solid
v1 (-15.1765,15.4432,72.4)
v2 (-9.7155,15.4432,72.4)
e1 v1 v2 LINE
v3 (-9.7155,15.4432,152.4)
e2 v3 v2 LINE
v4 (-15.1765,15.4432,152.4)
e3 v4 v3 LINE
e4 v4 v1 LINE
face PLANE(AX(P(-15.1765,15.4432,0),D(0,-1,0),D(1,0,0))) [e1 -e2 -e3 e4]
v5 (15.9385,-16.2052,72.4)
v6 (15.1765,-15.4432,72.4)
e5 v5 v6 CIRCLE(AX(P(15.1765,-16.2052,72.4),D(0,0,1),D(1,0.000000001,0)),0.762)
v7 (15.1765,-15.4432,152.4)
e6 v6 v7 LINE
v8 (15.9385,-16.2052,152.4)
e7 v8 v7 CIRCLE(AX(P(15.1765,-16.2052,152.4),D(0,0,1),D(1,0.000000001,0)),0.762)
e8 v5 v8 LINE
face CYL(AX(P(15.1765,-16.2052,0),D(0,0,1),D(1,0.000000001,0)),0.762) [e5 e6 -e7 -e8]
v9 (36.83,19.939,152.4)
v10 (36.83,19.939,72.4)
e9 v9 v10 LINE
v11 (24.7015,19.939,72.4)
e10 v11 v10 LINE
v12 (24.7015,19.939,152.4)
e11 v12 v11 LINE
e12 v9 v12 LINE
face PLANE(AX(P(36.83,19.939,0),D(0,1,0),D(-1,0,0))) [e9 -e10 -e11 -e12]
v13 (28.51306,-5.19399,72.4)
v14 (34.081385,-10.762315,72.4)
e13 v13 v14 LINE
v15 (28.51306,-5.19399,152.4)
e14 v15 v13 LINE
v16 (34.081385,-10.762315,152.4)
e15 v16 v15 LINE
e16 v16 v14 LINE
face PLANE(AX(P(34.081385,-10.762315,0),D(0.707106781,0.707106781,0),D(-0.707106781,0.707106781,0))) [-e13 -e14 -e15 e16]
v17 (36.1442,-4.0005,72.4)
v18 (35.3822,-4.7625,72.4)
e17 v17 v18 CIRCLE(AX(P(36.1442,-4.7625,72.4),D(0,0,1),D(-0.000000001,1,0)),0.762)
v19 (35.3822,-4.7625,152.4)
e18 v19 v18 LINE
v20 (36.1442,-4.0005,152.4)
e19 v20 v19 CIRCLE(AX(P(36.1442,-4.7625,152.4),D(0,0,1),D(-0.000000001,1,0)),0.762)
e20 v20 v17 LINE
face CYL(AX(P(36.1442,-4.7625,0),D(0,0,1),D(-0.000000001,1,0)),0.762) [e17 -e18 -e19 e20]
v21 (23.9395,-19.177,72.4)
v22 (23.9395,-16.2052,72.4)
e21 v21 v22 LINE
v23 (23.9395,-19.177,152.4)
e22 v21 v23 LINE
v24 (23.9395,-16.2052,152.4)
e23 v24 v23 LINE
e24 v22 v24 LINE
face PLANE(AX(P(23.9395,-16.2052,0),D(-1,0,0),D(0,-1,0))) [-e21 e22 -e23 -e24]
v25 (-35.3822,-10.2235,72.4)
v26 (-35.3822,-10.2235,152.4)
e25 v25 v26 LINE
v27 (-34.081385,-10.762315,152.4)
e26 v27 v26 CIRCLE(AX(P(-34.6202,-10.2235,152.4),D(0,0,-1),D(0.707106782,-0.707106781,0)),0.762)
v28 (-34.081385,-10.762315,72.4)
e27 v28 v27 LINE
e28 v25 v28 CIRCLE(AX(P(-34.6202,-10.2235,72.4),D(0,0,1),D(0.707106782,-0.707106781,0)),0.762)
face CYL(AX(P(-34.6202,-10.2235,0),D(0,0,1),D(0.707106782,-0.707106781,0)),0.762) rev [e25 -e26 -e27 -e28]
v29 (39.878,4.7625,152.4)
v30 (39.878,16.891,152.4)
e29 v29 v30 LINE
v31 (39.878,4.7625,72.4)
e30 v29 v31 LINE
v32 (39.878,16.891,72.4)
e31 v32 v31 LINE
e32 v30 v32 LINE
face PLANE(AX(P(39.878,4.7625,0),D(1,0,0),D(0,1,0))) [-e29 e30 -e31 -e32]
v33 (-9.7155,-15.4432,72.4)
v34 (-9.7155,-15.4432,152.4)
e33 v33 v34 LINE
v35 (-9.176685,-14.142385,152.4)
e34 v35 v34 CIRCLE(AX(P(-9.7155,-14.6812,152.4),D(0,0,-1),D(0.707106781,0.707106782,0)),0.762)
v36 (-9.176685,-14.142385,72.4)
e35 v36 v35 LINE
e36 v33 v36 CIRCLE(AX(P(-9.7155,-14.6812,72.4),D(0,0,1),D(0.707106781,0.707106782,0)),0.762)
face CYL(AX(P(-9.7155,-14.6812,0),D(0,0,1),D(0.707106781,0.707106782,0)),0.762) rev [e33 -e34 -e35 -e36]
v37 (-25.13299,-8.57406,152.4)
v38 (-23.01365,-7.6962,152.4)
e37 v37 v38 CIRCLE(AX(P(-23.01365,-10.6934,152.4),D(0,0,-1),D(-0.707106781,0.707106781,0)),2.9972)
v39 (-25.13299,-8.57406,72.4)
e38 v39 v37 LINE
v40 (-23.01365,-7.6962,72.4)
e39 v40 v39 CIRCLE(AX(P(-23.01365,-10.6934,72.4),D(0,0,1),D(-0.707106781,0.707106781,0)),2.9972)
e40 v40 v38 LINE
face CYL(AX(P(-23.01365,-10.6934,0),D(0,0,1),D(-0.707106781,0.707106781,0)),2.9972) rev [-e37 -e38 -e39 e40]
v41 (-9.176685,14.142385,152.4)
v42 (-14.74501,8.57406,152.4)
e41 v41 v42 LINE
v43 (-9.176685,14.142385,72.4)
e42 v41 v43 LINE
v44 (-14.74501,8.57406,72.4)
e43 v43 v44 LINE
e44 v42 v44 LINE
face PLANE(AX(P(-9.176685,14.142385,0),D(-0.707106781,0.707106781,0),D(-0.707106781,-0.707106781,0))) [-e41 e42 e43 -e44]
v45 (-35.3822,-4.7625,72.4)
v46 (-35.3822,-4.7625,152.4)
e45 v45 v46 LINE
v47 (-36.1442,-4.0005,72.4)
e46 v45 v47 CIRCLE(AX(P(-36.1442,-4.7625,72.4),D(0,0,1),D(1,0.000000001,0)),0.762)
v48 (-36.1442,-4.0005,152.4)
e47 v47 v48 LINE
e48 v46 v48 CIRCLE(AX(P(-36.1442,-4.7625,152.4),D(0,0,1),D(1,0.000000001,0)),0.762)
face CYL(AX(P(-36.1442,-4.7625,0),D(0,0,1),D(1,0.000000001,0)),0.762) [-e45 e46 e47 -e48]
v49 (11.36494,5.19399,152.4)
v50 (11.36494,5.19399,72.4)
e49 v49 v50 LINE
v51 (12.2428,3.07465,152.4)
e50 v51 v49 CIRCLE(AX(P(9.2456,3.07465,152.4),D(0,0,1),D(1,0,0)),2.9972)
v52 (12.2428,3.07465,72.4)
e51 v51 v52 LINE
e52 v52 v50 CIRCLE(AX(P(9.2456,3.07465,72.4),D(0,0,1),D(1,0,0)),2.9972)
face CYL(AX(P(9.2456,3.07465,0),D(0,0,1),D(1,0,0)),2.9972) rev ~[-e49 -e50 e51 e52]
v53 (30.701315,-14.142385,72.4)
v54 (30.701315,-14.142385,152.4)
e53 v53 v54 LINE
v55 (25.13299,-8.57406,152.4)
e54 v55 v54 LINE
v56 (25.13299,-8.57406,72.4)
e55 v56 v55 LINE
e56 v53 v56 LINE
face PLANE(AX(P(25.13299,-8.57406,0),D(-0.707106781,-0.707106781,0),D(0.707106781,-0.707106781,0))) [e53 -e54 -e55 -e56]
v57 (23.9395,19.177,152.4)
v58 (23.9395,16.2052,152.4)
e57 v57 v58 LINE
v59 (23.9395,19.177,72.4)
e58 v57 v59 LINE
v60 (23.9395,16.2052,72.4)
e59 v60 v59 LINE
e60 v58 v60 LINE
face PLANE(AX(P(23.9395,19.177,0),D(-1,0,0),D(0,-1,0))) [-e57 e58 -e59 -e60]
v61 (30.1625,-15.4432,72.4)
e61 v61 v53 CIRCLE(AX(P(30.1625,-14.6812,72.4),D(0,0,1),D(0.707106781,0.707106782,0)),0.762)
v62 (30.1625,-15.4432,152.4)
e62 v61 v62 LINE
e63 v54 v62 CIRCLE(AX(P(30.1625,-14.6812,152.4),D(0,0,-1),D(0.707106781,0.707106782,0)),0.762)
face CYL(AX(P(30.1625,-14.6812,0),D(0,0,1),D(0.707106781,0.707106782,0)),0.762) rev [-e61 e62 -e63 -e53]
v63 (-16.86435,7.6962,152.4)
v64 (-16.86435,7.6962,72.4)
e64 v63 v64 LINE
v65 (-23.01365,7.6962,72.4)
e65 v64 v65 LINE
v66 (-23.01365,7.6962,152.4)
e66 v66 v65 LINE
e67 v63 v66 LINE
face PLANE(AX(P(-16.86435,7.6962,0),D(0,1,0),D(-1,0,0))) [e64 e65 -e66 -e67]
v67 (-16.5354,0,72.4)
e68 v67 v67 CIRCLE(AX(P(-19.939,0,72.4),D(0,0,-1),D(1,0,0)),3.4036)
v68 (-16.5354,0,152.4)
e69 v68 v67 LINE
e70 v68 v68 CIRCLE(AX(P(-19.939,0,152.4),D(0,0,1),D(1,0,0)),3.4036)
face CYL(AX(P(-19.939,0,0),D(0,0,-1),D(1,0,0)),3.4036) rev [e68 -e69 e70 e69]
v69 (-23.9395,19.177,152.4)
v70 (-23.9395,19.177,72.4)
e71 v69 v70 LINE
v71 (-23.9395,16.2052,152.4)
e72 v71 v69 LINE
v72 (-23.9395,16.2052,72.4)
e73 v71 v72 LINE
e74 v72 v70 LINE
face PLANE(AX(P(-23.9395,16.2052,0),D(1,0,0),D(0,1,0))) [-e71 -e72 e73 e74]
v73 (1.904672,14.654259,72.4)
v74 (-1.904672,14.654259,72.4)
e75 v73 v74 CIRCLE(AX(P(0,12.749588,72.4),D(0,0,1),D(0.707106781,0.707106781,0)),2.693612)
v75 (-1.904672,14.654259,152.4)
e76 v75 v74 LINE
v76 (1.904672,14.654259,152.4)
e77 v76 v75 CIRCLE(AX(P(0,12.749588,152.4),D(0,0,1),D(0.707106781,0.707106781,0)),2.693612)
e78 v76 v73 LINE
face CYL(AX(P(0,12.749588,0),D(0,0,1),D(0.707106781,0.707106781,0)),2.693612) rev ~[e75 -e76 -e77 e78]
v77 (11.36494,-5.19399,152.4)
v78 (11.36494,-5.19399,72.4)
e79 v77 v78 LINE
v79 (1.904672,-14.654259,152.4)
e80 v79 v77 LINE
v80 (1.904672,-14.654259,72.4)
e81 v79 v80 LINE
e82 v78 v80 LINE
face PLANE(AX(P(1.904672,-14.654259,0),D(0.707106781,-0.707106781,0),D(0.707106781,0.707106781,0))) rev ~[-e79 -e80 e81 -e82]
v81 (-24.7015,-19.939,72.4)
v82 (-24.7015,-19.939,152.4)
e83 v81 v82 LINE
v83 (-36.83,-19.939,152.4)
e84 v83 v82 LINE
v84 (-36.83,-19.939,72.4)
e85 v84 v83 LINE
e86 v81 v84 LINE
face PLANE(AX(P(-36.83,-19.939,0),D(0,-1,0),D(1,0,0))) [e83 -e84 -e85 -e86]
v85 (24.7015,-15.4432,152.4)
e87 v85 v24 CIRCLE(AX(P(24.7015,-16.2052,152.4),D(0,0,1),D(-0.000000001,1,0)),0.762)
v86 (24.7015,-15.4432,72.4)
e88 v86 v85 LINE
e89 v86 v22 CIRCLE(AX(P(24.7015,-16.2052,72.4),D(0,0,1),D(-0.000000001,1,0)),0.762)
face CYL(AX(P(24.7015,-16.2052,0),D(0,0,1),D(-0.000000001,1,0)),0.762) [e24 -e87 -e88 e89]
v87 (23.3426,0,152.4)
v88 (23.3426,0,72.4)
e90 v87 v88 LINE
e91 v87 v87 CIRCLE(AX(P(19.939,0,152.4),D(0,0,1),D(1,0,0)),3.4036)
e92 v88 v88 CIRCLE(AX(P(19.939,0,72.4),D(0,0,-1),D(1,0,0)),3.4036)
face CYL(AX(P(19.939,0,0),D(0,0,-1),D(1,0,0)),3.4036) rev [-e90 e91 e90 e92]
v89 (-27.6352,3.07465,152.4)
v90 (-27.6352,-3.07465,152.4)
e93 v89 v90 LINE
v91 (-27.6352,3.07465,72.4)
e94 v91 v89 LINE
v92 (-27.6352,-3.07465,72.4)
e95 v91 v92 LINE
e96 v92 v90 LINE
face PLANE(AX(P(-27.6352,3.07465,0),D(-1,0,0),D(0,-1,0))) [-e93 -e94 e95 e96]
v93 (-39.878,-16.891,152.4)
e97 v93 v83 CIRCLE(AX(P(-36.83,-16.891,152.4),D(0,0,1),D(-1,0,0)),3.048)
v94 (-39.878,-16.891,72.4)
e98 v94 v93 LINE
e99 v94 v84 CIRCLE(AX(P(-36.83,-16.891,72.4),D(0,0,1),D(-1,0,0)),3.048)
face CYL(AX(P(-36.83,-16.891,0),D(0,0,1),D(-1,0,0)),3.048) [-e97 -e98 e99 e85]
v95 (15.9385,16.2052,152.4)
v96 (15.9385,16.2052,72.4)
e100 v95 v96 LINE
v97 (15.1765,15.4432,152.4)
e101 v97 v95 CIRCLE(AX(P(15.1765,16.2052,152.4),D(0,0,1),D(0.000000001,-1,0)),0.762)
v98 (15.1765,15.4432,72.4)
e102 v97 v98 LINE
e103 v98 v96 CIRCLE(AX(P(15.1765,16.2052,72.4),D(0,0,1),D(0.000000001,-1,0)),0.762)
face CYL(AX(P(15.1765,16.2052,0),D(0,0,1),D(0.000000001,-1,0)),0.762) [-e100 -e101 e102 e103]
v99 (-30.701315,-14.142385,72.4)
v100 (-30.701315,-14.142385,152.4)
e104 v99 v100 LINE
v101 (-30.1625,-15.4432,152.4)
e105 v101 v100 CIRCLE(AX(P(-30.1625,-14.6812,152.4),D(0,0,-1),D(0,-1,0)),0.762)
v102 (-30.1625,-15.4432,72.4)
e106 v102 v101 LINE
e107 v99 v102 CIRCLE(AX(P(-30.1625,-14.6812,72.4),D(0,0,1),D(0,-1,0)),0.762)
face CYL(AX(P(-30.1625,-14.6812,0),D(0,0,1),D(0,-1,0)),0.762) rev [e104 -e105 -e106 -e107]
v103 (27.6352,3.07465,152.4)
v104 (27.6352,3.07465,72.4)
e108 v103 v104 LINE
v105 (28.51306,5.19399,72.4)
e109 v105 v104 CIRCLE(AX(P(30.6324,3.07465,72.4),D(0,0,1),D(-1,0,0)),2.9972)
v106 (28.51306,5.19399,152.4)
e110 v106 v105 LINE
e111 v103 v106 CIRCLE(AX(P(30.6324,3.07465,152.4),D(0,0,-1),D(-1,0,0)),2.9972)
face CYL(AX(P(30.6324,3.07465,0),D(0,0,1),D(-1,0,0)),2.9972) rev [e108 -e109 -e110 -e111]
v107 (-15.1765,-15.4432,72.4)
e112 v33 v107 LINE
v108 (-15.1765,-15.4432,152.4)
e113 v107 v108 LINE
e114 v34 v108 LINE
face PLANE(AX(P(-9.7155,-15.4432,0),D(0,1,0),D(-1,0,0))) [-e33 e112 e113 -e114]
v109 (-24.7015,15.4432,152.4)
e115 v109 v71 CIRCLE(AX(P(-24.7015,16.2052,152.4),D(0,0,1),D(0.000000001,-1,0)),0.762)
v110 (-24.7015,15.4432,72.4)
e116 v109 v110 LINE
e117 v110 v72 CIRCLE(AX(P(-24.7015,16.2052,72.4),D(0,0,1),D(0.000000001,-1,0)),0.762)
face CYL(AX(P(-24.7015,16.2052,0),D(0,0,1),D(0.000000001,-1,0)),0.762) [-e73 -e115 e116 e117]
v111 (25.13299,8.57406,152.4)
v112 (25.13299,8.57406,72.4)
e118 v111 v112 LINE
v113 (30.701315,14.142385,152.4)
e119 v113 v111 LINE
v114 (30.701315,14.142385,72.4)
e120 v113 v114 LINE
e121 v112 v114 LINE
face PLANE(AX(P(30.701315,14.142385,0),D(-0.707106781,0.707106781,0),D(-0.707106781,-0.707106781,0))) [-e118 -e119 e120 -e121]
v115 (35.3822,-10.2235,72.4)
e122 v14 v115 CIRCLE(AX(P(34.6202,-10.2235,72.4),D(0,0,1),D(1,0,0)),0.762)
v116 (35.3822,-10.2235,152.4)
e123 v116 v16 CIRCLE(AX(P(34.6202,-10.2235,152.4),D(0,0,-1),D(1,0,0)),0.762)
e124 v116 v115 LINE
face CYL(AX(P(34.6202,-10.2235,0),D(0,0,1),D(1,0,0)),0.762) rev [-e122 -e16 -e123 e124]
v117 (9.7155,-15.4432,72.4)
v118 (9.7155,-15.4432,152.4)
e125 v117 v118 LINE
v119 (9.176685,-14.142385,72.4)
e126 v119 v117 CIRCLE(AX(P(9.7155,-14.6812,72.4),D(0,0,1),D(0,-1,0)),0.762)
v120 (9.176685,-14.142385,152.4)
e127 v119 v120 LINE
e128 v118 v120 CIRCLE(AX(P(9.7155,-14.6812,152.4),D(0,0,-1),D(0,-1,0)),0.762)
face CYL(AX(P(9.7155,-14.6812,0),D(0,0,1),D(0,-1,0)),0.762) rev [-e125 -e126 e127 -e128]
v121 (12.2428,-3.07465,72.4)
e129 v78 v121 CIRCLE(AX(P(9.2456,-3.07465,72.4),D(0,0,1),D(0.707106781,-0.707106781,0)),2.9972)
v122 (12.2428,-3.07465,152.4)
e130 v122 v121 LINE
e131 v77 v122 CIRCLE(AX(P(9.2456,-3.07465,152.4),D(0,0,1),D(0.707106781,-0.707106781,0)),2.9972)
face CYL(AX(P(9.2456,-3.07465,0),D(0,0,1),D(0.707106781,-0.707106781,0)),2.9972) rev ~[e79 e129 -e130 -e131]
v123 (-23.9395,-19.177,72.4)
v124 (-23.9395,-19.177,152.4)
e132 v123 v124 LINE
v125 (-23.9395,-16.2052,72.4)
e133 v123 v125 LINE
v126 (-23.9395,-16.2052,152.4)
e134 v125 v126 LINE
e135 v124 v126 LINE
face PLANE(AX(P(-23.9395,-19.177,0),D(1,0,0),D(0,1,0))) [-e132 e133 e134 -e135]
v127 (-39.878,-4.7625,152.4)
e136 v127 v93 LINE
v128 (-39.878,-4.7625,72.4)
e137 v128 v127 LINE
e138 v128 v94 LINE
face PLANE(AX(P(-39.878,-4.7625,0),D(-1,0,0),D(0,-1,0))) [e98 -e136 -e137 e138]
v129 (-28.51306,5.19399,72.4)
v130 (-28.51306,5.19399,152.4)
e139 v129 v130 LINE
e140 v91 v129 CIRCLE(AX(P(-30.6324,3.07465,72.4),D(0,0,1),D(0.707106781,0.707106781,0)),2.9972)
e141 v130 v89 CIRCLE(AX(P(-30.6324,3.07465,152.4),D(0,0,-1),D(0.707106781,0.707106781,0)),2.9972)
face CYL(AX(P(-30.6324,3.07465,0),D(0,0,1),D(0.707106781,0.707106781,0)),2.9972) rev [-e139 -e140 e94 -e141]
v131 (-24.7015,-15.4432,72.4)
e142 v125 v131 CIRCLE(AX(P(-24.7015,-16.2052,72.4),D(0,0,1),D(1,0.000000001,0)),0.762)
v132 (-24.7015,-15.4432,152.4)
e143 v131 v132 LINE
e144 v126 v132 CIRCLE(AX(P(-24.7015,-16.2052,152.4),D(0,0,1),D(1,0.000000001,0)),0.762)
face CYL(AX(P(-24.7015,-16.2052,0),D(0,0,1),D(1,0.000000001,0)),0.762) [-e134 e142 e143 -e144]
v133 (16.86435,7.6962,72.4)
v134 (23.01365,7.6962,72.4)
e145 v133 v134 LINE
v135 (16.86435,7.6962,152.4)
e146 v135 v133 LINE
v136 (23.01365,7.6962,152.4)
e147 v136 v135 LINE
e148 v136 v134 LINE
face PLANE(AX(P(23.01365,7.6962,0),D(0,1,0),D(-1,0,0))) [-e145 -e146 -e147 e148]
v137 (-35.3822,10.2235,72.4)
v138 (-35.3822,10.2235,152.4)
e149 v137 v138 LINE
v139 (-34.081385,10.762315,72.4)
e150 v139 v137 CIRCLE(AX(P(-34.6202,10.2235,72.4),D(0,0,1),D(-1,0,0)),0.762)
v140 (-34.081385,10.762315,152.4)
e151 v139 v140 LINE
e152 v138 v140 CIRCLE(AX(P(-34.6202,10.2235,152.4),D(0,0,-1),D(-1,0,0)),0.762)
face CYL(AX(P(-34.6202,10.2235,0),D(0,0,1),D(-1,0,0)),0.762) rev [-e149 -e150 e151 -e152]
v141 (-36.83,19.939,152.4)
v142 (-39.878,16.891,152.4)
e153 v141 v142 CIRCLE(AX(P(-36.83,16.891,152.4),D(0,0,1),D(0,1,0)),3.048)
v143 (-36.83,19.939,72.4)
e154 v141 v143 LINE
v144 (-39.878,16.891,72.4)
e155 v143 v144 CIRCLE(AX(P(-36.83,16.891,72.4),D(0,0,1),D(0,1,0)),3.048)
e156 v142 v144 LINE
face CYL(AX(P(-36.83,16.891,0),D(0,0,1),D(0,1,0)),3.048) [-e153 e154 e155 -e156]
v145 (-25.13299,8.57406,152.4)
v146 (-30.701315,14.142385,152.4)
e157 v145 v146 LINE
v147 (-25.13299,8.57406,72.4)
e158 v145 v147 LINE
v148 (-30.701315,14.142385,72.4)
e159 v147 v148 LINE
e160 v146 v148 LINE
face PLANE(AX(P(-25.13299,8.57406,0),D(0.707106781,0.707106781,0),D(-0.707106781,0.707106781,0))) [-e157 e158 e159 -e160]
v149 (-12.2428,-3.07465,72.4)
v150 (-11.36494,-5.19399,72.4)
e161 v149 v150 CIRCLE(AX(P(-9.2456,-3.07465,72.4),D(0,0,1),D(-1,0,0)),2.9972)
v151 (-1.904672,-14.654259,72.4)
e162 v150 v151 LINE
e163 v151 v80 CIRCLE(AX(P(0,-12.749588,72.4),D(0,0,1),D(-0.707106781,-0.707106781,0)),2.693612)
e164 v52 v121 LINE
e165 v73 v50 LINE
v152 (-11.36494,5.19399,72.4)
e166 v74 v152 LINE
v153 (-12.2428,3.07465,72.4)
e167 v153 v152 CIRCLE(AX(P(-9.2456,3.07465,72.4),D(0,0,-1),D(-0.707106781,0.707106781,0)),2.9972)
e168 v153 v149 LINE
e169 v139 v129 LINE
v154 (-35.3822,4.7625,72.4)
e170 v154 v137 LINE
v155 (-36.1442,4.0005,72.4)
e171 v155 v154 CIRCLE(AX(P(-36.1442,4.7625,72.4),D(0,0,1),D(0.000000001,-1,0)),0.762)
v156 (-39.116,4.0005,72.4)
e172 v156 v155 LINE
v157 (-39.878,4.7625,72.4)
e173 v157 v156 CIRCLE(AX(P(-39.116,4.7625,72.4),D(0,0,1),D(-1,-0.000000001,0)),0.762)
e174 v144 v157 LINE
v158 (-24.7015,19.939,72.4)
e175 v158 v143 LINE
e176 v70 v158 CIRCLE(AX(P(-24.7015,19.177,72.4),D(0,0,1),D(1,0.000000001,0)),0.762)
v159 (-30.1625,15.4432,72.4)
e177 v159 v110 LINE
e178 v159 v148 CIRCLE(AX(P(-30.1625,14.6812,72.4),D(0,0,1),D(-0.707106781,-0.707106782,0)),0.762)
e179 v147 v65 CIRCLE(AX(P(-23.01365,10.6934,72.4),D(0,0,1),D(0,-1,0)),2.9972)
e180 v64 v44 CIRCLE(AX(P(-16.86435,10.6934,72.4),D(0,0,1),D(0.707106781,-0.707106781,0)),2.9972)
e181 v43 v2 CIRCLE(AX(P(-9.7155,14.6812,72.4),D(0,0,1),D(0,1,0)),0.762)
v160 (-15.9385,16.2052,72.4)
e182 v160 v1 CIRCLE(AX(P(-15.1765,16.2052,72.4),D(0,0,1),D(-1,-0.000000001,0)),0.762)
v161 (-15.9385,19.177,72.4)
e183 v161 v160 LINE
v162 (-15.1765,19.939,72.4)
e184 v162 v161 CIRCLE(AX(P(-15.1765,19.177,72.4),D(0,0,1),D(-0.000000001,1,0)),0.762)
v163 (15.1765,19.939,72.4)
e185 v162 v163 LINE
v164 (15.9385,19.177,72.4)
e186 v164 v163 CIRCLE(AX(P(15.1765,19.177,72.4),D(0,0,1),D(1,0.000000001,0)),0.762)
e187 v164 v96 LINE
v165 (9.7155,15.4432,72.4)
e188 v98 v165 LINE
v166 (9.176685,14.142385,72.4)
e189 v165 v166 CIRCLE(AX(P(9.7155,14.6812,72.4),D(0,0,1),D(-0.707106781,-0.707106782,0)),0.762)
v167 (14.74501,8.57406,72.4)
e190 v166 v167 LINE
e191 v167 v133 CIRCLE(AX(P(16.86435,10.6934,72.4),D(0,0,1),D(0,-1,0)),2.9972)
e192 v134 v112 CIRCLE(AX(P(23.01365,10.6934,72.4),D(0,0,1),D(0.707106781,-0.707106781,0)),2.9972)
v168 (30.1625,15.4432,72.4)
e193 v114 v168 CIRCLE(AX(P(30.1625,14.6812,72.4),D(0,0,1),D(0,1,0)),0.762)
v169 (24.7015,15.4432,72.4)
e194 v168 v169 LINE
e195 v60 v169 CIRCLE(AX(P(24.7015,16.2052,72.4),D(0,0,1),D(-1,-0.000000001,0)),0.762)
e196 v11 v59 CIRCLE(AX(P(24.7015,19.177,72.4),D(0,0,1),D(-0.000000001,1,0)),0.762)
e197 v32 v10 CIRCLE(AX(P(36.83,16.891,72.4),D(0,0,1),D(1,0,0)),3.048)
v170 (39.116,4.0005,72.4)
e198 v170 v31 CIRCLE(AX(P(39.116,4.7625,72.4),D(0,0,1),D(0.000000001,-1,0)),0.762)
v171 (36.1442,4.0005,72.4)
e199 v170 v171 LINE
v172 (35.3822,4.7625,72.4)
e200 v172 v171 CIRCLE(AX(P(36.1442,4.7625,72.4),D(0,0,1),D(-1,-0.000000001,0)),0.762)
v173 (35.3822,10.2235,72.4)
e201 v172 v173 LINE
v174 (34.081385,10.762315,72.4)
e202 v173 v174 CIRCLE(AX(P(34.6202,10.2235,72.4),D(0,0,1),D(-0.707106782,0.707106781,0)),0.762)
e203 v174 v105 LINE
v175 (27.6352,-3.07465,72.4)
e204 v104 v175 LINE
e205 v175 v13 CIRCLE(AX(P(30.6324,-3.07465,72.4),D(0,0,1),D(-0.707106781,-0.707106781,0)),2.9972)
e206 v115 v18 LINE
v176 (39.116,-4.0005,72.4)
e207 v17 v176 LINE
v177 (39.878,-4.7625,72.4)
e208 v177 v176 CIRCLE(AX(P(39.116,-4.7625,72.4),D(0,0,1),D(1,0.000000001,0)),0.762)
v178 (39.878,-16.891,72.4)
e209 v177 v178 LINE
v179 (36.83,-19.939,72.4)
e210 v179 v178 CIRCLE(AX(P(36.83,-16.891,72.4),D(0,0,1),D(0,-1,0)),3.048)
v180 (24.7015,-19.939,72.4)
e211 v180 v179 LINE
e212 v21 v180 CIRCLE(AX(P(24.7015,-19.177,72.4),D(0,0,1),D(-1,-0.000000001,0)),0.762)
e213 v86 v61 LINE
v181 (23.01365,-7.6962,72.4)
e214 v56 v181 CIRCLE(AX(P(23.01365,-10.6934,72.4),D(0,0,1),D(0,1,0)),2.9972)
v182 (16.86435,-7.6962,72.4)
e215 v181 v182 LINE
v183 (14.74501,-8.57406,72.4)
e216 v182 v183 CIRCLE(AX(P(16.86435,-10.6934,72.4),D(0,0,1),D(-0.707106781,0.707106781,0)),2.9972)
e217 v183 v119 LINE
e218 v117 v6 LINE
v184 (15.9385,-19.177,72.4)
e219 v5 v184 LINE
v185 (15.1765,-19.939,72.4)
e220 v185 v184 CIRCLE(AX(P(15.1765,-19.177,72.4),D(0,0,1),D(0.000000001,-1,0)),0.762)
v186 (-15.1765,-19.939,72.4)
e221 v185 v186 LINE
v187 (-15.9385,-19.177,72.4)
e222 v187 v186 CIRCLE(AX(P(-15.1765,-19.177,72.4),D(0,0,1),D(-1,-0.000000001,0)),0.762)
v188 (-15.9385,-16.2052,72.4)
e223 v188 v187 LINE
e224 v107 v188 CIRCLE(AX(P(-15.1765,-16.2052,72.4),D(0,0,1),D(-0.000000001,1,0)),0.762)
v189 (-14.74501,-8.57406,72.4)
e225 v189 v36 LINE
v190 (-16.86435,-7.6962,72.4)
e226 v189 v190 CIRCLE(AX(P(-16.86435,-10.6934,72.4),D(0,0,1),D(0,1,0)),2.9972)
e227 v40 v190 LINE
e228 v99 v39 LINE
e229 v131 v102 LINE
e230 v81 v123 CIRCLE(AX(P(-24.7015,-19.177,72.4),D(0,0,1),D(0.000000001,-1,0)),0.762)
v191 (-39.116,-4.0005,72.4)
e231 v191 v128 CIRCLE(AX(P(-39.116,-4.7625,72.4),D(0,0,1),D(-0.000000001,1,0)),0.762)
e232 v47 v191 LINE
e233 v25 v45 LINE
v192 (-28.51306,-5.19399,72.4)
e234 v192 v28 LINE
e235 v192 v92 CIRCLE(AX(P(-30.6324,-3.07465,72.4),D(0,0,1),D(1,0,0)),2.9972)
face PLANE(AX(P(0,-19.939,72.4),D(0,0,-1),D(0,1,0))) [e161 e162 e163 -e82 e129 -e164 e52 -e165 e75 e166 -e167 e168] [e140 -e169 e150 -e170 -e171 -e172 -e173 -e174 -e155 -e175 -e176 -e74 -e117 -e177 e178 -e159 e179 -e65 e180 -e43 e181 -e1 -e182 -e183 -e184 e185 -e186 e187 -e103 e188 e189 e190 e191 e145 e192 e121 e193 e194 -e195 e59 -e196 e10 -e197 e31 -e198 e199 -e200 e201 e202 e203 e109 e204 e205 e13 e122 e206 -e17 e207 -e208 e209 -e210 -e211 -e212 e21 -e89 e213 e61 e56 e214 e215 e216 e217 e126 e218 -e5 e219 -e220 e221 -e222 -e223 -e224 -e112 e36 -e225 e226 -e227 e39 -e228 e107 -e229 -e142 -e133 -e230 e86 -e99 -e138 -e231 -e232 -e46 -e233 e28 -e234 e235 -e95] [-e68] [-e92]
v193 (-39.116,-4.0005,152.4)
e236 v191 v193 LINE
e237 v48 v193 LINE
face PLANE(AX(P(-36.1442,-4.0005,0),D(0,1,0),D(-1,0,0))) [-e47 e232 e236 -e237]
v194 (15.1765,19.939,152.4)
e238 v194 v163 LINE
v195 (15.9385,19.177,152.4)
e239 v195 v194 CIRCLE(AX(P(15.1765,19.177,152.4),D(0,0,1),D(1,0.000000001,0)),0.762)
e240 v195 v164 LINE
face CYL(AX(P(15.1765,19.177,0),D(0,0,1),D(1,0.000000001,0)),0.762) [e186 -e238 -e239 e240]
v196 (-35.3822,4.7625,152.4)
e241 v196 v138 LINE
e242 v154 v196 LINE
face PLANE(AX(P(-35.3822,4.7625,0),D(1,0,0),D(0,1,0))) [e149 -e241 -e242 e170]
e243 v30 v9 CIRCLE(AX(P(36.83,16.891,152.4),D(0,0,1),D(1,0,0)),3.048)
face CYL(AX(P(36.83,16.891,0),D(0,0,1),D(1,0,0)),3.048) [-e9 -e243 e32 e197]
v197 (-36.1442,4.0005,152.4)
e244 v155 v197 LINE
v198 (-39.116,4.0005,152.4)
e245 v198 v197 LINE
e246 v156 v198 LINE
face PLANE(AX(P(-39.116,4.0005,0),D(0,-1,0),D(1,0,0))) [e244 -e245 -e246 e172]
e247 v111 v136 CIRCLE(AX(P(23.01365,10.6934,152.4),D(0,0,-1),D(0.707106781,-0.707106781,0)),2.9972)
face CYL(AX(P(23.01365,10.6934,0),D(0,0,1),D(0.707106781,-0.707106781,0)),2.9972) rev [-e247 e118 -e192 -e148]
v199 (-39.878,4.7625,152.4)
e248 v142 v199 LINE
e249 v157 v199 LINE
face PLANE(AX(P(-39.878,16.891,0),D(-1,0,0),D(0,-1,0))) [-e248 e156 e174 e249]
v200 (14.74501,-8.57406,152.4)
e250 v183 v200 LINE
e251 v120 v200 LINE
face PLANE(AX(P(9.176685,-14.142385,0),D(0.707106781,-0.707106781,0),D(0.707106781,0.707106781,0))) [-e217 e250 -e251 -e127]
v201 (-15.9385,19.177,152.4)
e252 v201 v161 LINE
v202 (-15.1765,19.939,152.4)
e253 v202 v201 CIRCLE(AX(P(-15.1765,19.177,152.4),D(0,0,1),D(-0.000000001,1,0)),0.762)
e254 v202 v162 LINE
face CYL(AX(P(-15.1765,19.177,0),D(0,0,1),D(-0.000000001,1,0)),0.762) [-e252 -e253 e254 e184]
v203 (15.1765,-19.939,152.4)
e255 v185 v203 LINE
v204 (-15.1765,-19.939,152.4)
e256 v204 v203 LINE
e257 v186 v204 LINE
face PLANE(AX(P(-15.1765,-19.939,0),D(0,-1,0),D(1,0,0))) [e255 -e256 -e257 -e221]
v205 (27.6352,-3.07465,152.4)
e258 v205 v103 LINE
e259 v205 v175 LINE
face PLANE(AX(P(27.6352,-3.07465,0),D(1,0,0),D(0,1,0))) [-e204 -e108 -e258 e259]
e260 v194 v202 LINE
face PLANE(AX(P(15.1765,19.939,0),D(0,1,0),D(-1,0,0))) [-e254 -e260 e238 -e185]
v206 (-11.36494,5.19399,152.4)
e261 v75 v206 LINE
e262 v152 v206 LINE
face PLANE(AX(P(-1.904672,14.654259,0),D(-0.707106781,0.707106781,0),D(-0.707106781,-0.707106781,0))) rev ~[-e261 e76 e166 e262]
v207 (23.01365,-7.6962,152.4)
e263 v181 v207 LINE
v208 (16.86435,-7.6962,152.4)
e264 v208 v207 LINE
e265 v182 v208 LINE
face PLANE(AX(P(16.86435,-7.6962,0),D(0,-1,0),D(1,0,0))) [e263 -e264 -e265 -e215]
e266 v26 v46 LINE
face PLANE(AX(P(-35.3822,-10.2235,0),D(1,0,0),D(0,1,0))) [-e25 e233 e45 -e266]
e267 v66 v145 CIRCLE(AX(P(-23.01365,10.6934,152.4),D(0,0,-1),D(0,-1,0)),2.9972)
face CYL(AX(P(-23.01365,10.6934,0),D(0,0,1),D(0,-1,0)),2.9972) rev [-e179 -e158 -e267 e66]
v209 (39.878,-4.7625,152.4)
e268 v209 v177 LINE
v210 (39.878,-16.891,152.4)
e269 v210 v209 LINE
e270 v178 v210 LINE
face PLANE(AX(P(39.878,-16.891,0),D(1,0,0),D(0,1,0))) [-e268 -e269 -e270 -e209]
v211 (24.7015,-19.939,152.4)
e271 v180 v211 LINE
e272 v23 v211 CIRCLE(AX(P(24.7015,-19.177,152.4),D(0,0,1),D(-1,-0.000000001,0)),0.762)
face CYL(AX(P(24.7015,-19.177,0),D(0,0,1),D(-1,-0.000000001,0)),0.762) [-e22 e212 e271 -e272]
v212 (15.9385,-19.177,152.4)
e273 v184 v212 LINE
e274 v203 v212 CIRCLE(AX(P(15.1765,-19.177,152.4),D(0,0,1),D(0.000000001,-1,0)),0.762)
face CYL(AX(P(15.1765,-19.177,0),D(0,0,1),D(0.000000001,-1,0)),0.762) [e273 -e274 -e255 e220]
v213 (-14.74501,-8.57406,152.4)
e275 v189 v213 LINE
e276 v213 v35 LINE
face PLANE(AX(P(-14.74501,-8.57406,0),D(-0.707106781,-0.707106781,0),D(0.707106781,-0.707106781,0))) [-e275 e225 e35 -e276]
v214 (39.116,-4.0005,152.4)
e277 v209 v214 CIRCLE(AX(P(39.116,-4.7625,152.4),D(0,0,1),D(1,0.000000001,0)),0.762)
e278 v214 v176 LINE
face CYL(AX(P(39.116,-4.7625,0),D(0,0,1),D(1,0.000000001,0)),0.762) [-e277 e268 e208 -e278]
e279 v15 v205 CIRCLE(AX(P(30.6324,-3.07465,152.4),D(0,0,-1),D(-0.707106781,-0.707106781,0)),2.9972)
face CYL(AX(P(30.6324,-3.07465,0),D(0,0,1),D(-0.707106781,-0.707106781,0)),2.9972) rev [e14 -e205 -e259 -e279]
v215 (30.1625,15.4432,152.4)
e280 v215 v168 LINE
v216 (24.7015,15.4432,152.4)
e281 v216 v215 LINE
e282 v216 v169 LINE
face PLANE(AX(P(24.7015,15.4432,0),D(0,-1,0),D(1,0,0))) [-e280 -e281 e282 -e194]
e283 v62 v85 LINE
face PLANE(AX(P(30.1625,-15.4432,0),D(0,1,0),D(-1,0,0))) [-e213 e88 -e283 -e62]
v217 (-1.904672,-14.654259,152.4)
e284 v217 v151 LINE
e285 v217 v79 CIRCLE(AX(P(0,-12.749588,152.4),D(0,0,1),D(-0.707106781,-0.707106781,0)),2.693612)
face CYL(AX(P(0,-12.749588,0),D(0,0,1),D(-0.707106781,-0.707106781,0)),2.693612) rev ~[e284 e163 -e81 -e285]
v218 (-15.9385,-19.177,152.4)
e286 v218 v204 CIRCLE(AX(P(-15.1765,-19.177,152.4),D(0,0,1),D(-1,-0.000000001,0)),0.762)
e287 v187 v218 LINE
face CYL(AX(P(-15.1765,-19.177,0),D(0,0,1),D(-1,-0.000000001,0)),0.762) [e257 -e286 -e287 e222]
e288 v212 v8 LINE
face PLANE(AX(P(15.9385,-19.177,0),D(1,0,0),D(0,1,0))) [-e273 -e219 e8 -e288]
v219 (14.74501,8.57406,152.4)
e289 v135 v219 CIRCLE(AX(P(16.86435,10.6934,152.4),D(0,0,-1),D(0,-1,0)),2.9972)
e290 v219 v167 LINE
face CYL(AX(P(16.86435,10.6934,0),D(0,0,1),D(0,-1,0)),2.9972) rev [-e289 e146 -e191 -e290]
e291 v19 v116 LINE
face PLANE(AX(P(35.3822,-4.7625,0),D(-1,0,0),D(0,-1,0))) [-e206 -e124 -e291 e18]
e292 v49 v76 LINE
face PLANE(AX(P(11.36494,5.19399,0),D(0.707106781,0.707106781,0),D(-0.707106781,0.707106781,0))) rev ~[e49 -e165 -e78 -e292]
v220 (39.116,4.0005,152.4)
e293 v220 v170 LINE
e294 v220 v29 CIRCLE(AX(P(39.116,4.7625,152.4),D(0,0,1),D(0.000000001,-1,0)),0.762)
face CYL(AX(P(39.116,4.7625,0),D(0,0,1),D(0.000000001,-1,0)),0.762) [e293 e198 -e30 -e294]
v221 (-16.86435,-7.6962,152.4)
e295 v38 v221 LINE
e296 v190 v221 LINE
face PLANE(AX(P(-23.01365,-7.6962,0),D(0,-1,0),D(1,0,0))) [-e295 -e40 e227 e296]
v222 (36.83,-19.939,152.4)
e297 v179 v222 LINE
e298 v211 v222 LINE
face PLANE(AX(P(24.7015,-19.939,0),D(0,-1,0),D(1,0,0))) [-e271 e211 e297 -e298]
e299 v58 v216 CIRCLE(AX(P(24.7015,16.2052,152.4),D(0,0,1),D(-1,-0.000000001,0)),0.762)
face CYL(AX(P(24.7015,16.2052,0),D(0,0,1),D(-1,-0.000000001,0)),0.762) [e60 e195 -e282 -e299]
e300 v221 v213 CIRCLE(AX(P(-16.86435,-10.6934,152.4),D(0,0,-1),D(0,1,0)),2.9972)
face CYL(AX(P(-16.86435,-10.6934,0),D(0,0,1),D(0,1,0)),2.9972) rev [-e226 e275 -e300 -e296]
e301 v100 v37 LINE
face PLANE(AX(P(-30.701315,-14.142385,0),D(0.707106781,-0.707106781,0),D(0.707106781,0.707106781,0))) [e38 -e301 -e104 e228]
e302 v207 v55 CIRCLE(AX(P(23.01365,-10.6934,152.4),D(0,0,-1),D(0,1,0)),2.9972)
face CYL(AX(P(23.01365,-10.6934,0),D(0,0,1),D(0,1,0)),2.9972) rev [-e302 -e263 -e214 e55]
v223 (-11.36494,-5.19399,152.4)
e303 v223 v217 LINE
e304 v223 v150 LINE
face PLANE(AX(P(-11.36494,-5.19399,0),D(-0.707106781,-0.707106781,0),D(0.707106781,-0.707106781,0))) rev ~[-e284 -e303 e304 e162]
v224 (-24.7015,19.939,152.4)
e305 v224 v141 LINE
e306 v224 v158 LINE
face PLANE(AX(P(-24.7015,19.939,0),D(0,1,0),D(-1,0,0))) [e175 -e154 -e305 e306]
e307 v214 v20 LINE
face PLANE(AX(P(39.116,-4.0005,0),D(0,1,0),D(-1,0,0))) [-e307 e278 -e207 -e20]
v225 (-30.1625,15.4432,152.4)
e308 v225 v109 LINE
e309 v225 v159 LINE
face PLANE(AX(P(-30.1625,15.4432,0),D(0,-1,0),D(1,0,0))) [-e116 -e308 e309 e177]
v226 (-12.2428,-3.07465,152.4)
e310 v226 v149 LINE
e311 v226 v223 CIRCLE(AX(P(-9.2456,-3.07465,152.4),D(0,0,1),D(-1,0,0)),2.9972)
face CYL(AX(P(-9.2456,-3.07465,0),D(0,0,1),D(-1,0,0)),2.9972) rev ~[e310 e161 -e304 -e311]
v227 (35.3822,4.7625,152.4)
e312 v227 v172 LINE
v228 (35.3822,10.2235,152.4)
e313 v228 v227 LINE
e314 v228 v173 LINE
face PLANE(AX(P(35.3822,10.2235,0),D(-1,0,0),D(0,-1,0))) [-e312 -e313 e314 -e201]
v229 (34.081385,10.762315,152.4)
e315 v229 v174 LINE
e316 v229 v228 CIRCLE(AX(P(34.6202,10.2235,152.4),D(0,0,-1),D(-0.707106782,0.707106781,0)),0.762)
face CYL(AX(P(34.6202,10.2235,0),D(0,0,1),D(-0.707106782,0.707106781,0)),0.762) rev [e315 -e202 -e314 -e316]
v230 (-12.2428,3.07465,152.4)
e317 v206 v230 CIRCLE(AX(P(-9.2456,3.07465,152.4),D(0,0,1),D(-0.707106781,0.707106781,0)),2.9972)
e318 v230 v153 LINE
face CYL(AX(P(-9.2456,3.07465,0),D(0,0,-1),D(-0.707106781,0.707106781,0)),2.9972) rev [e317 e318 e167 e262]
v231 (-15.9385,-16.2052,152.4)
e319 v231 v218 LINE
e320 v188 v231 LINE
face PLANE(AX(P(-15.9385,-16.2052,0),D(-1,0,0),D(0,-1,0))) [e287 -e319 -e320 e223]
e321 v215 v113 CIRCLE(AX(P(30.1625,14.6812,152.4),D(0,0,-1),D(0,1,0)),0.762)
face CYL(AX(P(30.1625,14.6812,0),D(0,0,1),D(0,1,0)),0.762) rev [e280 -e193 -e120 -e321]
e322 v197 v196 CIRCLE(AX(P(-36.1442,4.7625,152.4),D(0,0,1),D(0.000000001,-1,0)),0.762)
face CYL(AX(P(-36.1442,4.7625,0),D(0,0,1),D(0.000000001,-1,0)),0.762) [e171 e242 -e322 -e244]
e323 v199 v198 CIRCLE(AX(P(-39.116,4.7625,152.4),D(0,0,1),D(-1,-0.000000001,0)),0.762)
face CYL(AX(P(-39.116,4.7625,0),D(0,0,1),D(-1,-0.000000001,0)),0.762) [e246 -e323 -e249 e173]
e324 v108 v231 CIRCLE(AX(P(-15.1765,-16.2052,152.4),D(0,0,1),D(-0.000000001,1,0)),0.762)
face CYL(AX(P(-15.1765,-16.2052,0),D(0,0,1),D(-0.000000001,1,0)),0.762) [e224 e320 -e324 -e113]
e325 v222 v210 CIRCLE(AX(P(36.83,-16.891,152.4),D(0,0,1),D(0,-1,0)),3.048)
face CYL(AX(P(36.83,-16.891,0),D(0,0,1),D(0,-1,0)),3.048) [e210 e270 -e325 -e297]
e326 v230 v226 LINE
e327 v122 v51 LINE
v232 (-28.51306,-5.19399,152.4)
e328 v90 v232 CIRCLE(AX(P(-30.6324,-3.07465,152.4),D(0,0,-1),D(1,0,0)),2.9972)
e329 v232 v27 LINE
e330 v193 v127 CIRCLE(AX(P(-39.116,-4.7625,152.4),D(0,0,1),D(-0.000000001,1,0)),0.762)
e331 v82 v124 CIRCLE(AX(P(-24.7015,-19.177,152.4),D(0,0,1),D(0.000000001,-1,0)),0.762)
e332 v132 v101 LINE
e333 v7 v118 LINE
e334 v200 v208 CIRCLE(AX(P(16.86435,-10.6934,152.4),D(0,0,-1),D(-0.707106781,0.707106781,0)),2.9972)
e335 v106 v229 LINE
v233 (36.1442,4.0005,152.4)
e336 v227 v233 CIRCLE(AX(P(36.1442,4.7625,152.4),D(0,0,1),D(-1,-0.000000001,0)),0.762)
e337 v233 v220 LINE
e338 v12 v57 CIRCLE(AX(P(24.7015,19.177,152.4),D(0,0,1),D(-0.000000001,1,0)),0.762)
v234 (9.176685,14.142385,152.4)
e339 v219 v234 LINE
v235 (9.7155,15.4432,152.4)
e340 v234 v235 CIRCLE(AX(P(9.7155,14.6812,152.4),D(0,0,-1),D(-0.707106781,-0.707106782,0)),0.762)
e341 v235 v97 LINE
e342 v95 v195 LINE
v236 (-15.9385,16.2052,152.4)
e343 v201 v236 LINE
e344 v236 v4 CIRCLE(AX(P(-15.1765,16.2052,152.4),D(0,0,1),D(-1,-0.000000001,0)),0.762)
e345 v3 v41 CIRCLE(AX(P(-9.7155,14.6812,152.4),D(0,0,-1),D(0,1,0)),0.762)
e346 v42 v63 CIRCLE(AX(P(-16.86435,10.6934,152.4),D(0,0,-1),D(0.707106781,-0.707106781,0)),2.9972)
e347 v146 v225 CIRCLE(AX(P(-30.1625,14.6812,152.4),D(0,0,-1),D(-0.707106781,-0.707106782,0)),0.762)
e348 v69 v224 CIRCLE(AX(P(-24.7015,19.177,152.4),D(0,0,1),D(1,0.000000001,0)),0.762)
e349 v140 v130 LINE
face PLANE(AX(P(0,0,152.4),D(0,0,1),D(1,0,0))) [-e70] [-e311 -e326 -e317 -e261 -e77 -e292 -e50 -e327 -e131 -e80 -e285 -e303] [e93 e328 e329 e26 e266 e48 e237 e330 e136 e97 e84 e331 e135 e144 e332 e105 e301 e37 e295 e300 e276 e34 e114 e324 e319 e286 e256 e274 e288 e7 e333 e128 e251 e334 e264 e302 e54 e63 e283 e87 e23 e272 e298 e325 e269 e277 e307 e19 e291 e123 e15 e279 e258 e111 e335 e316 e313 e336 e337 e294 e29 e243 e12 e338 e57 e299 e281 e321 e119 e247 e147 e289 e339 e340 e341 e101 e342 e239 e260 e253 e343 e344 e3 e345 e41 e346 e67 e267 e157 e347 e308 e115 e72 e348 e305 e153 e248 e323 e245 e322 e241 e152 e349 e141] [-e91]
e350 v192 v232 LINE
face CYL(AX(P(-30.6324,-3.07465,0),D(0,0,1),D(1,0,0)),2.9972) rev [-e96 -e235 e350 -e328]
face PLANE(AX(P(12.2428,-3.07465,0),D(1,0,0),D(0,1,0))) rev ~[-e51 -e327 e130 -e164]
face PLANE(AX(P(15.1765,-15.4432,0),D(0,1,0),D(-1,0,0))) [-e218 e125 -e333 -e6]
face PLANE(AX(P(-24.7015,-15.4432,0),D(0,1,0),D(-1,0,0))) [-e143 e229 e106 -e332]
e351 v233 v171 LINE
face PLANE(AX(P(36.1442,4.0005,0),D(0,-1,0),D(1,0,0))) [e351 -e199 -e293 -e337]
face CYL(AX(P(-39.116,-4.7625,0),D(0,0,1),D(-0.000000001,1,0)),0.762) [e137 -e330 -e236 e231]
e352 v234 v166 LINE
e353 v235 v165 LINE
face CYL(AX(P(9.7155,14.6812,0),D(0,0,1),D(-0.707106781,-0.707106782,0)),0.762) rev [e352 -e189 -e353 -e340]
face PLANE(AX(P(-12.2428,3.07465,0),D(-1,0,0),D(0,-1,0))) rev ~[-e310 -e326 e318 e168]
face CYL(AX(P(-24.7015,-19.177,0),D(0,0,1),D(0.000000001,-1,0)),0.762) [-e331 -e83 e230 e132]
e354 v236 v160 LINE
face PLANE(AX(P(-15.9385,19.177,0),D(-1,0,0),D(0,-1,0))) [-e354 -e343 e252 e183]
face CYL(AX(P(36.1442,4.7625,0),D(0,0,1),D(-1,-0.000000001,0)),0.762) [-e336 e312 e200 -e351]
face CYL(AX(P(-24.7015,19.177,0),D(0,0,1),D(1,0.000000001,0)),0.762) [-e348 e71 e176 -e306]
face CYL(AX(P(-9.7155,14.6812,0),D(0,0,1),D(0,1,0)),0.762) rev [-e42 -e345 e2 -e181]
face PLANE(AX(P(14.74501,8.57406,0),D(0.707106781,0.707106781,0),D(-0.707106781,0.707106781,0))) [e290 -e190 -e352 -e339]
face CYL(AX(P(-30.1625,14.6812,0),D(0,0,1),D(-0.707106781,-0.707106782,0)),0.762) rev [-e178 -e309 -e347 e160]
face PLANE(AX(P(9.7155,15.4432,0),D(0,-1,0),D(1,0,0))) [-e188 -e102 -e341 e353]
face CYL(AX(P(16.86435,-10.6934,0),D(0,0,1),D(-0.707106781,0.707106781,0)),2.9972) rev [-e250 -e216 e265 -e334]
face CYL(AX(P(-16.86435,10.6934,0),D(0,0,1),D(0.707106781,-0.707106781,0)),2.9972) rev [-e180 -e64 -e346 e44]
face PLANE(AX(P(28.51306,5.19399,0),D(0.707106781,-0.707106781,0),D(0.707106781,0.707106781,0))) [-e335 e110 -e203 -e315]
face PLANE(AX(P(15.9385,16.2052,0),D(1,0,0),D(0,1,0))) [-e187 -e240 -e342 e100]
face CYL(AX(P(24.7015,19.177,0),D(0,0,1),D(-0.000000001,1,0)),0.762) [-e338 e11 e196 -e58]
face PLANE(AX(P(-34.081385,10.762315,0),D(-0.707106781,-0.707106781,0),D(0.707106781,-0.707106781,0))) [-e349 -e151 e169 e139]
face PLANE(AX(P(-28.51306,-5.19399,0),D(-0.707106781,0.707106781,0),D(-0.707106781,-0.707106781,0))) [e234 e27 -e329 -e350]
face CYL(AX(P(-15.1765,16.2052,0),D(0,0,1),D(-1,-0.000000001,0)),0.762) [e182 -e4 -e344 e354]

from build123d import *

# Parameters (mm, degrees)
SKETCH1_R               = 3.4036
BOSS_EXTRUDE1_DEPTH     = 152.4
SKETCH2_W               = 224.8
SKETCH2_H               = 39.878
CUT_EXTRUDE1_DEPTH      = 40
CUT_EXTRUDE1_DEPTH_BACK = 40


with BuildPart() as part:
    # Sketch1 → Boss-Extrude1 (new body, symmetric)
    with BuildSketch(Plane.XY):
        with BuildLine():
            Line((-39.878, 16.891), (-39.878, 4.7625))
            ThreePointArc((-39.878, 4.7625), (-39.654815367, 4.223684633), (-39.116, 4.0005))
            Line((-39.116, 4.0005), (-36.1442, 4.0005))
            ThreePointArc((-36.1442, 4.0005), (-35.605384633, 4.223684633), (-35.3822, 4.7625))
            Line((-35.3822, 4.7625), (-35.3822, 10.2235))
            ThreePointArc((-35.3822, 10.2235), (-34.911804775, 10.927496204), (-34.081384633, 10.762315367))
            Line((-34.081384633, 10.762315367), (-28.513059555, 5.19399029))
            ThreePointArc((-28.513059555, 5.19399029), (-27.863348265, 4.221628629), (-27.6352, 3.074649845))
            Line((-27.6352, 3.074649845), (-27.6352, -3.074649845))
            ThreePointArc((-27.6352, -3.074649845), (-27.863348265, -4.221628629), (-28.513059555, -5.19399029))
            Line((-28.513059555, -5.19399029), (-34.081384633, -10.762315367))
            ThreePointArc((-34.081384633, -10.762315367), (-34.911804775, -10.927496204), (-35.3822, -10.2235))
            Line((-35.3822, -10.2235), (-35.3822, -4.7625))
            ThreePointArc((-35.3822, -4.7625), (-35.605384633, -4.223684633), (-36.1442, -4.0005))
            Line((-36.1442, -4.0005), (-39.116, -4.0005))
            ThreePointArc((-39.116, -4.0005), (-39.654815367, -4.223684633), (-39.878, -4.7625))
            Line((-39.878, -4.7625), (-39.878, -16.891))
            ThreePointArc((-39.878, -16.891), (-38.985261469, -19.046261469), (-36.83, -19.939))
            Line((-36.83, -19.939), (-24.7015, -19.939))
            ThreePointArc((-24.7015, -19.939), (-24.162684633, -19.715815367), (-23.9395, -19.177))
            Line((-23.9395, -19.177), (-23.9395, -16.2052))
            ThreePointArc((-23.9395, -16.2052), (-24.162684633, -15.666384633), (-24.7015, -15.4432))
            Line((-24.7015, -15.4432), (-30.1625, -15.4432))
            ThreePointArc((-30.1625, -15.4432), (-30.866496204, -14.972804775), (-30.701315367, -14.142384633))
            Line((-30.701315367, -14.142384633), (-25.13299029, -8.574059555))
            ThreePointArc((-25.13299029, -8.574059555), (-24.160628629, -7.924348265), (-23.013649845, -7.6962))
            Line((-23.013649845, -7.6962), (-16.864350155, -7.6962))
            ThreePointArc((-16.864350155, -7.6962), (-15.717371371, -7.924348265), (-14.74500971, -8.574059555))
            Line((-14.74500971, -8.574059555), (-9.176684633, -14.142384633))
            ThreePointArc((-9.176684633, -14.142384633), (-9.011503796, -14.972804775), (-9.7155, -15.4432))
            Line((-9.7155, -15.4432), (-15.1765, -15.4432))
            ThreePointArc((-15.1765, -15.4432), (-15.715315367, -15.666384633), (-15.9385, -16.2052))
            Line((-15.9385, -16.2052), (-15.9385, -19.177))
            ThreePointArc((-15.9385, -19.177), (-15.715315367, -19.715815367), (-15.1765, -19.939))
            Line((-15.1765, -19.939), (15.1765, -19.939))
            ThreePointArc((15.1765, -19.939), (15.715315367, -19.715815367), (15.9385, -19.177))
            Line((15.9385, -19.177), (15.9385, -16.2052))
            ThreePointArc((15.9385, -16.2052), (15.715315367, -15.666384633), (15.1765, -15.4432))
            Line((15.1765, -15.4432), (9.7155, -15.4432))
            ThreePointArc((9.7155, -15.4432), (9.011503796, -14.972804775), (9.176684633, -14.142384633))
            Line((9.176684633, -14.142384633), (14.74500971, -8.574059555))
            ThreePointArc((14.74500971, -8.574059555), (15.717371371, -7.924348265), (16.864350155, -7.6962))
            Line((16.864350155, -7.6962), (23.013649845, -7.6962))
            ThreePointArc((23.013649845, -7.6962), (24.160628629, -7.924348265), (25.13299029, -8.574059555))
            Line((25.13299029, -8.574059555), (30.701315367, -14.142384633))
            ThreePointArc((30.701315367, -14.142384633), (30.866496204, -14.972804775), (30.1625, -15.4432))
            Line((30.1625, -15.4432), (24.7015, -15.4432))
            ThreePointArc((24.7015, -15.4432), (24.162684633, -15.666384633), (23.9395, -16.2052))
            Line((23.9395, -16.2052), (23.9395, -19.177))
            ThreePointArc((23.9395, -19.177), (24.162684633, -19.715815367), (24.7015, -19.939))
            Line((24.7015, -19.939), (36.83, -19.939))
            ThreePointArc((36.83, -19.939), (38.985261469, -19.046261469), (39.878, -16.891))
            Line((39.878, -16.891), (39.878, -4.7625))
            ThreePointArc((39.878, -4.7625), (39.654815367, -4.223684633), (39.116, -4.0005))
            Line((39.116, -4.0005), (36.1442, -4.0005))
            ThreePointArc((36.1442, -4.0005), (35.605384633, -4.223684633), (35.3822, -4.7625))
            Line((35.3822, -4.7625), (35.3822, -10.2235))
            ThreePointArc((35.3822, -10.2235), (34.911804775, -10.927496204), (34.081384633, -10.762315367))
            Line((34.081384633, -10.762315367), (28.513059555, -5.19399029))
            ThreePointArc((28.513059555, -5.19399029), (27.863348265, -4.221628629), (27.6352, -3.074649845))
            Line((27.6352, -3.074649845), (27.6352, 3.074649845))
            ThreePointArc((27.6352, 3.074649845), (27.863348265, 4.221628629), (28.513059555, 5.19399029))
            Line((28.513059555, 5.19399029), (34.081384633, 10.762315367))
            ThreePointArc((34.081384633, 10.762315367), (34.911804775, 10.927496204), (35.3822, 10.2235))
            Line((35.3822, 10.2235), (35.3822, 4.7625))
            ThreePointArc((35.3822, 4.7625), (35.605384633, 4.223684633), (36.1442, 4.0005))
            Line((36.1442, 4.0005), (39.116, 4.0005))
            ThreePointArc((39.116, 4.0005), (39.654815367, 4.223684633), (39.878, 4.7625))
            Line((39.878, 4.7625), (39.878, 16.891))
            ThreePointArc((39.878, 16.891), (38.985261469, 19.046261469), (36.83, 19.939))
            Line((36.83, 19.939), (24.7015, 19.939))
            ThreePointArc((24.7015, 19.939), (24.162684633, 19.715815367), (23.9395, 19.177))
            Line((23.9395, 19.177), (23.9395, 16.2052))
            ThreePointArc((23.9395, 16.2052), (24.162684633, 15.666384633), (24.7015, 15.4432))
            Line((24.7015, 15.4432), (30.1625, 15.4432))
            ThreePointArc((30.1625, 15.4432), (30.866496204, 14.972804775), (30.701315367, 14.142384633))
            Line((30.701315367, 14.142384633), (25.13299029, 8.574059555))
            ThreePointArc((25.13299029, 8.574059555), (24.160628629, 7.924348265), (23.013649845, 7.6962))
            Line((23.013649845, 7.6962), (16.864350155, 7.6962))
            ThreePointArc((16.864350155, 7.6962), (15.717371371, 7.924348265), (14.74500971, 8.574059555))
            Line((14.74500971, 8.574059555), (9.176684633, 14.142384633))
            ThreePointArc((9.176684633, 14.142384633), (9.011503796, 14.972804775), (9.7155, 15.4432))
            Line((9.7155, 15.4432), (15.1765, 15.4432))
            ThreePointArc((15.1765, 15.4432), (15.715315367, 15.666384633), (15.9385, 16.2052))
            Line((15.9385, 16.2052), (15.9385, 19.177))
            ThreePointArc((15.9385, 19.177), (15.715315367, 19.715815367), (15.1765, 19.939))
            Line((15.1765, 19.939), (-15.1765, 19.939))
            ThreePointArc((-15.1765, 19.939), (-15.715315367, 19.715815367), (-15.9385, 19.177))
            Line((-15.9385, 19.177), (-15.9385, 16.2052))
            ThreePointArc((-15.9385, 16.2052), (-15.715315367, 15.666384633), (-15.1765, 15.4432))
            Line((-15.1765, 15.4432), (-9.7155, 15.4432))
            ThreePointArc((-9.7155, 15.4432), (-9.011503796, 14.972804775), (-9.176684633, 14.142384633))
            Line((-9.176684633, 14.142384633), (-14.74500971, 8.574059555))
            ThreePointArc((-14.74500971, 8.574059555), (-15.717371371, 7.924348265), (-16.864350155, 7.6962))
            Line((-16.864350155, 7.6962), (-23.013649845, 7.6962))
            ThreePointArc((-23.013649845, 7.6962), (-24.160628629, 7.924348265), (-25.13299029, 8.574059555))
            Line((-25.13299029, 8.574059555), (-30.701315367, 14.142384633))
            ThreePointArc((-30.701315367, 14.142384633), (-30.866496204, 14.972804775), (-30.1625, 15.4432))
            Line((-30.1625, 15.4432), (-24.7015, 15.4432))
            ThreePointArc((-24.7015, 15.4432), (-24.162684633, 15.666384633), (-23.9395, 16.2052))
            Line((-23.9395, 16.2052), (-23.9395, 19.177))
            ThreePointArc((-23.9395, 19.177), (-24.162684633, 19.715815367), (-24.7015, 19.939))
            Line((-24.7015, 19.939), (-36.83, 19.939))
            ThreePointArc((-36.83, 19.939), (-38.985261469, 19.046261469), (-39.878, 16.891))
        make_face()
        with Locations((-19.939, 0)):
            Circle(SKETCH1_R, mode=Mode.SUBTRACT)
        with Locations((19.939, 0)):
            Circle(SKETCH1_R, mode=Mode.SUBTRACT)
        with BuildLine():
            Line((-12.2428, 3.074649845), (-12.2428, -3.074649845))
            ThreePointArc((-12.2428, -3.074649845), (-12.014651735, -4.221628629), (-11.364940445, -5.19399029))
            Line((-11.364940445, -5.19399029), (-1.904671503, -14.654259232))
            ThreePointArc((-1.904671503, -14.654259232), (0, -15.4432), (1.904671503, -14.654259232))
            Line((1.904671503, -14.654259232), (11.364940445, -5.19399029))
            ThreePointArc((11.364940445, -5.19399029), (12.014651735, -4.221628629), (12.2428, -3.074649845))
            Line((12.2428, -3.074649845), (12.2428, 3.074649845))
            ThreePointArc((12.2428, 3.074649845), (12.014651735, 4.221628629), (11.364940445, 5.19399029))
            Line((11.364940445, 5.19399029), (1.904671503, 14.654259232))
            ThreePointArc((1.904671503, 14.654259232), (0, 15.4432), (-1.904671503, 14.654259232))
            Line((-1.904671503, 14.654259232), (-11.364940445, 5.19399029))
            ThreePointArc((-11.364940445, 5.19399029), (-12.014651735, 4.221628629), (-12.2428, 3.074649845))
        make_face(mode=Mode.SUBTRACT)
    extrude(amount=BOSS_EXTRUDE1_DEPTH, both=True)

    # Sketch2 → Cut-Extrude1 (cut, two sides)
    with BuildSketch(Plane(origin=(0, 0, 0), x_dir=(0, 0, -1), z_dir=(1, 0, 0))) as cut_extrude1_sk:
        with Locations((40, 0)):
            Rectangle(SKETCH2_W, SKETCH2_H)
    extrude(amount=CUT_EXTRUDE1_DEPTH, mode=Mode.SUBTRACT)
    extrude(cut_extrude1_sk.sketch, amount=-CUT_EXTRUDE1_DEPTH_BACK, mode=Mode.SUBTRACT)


solid = part.part
